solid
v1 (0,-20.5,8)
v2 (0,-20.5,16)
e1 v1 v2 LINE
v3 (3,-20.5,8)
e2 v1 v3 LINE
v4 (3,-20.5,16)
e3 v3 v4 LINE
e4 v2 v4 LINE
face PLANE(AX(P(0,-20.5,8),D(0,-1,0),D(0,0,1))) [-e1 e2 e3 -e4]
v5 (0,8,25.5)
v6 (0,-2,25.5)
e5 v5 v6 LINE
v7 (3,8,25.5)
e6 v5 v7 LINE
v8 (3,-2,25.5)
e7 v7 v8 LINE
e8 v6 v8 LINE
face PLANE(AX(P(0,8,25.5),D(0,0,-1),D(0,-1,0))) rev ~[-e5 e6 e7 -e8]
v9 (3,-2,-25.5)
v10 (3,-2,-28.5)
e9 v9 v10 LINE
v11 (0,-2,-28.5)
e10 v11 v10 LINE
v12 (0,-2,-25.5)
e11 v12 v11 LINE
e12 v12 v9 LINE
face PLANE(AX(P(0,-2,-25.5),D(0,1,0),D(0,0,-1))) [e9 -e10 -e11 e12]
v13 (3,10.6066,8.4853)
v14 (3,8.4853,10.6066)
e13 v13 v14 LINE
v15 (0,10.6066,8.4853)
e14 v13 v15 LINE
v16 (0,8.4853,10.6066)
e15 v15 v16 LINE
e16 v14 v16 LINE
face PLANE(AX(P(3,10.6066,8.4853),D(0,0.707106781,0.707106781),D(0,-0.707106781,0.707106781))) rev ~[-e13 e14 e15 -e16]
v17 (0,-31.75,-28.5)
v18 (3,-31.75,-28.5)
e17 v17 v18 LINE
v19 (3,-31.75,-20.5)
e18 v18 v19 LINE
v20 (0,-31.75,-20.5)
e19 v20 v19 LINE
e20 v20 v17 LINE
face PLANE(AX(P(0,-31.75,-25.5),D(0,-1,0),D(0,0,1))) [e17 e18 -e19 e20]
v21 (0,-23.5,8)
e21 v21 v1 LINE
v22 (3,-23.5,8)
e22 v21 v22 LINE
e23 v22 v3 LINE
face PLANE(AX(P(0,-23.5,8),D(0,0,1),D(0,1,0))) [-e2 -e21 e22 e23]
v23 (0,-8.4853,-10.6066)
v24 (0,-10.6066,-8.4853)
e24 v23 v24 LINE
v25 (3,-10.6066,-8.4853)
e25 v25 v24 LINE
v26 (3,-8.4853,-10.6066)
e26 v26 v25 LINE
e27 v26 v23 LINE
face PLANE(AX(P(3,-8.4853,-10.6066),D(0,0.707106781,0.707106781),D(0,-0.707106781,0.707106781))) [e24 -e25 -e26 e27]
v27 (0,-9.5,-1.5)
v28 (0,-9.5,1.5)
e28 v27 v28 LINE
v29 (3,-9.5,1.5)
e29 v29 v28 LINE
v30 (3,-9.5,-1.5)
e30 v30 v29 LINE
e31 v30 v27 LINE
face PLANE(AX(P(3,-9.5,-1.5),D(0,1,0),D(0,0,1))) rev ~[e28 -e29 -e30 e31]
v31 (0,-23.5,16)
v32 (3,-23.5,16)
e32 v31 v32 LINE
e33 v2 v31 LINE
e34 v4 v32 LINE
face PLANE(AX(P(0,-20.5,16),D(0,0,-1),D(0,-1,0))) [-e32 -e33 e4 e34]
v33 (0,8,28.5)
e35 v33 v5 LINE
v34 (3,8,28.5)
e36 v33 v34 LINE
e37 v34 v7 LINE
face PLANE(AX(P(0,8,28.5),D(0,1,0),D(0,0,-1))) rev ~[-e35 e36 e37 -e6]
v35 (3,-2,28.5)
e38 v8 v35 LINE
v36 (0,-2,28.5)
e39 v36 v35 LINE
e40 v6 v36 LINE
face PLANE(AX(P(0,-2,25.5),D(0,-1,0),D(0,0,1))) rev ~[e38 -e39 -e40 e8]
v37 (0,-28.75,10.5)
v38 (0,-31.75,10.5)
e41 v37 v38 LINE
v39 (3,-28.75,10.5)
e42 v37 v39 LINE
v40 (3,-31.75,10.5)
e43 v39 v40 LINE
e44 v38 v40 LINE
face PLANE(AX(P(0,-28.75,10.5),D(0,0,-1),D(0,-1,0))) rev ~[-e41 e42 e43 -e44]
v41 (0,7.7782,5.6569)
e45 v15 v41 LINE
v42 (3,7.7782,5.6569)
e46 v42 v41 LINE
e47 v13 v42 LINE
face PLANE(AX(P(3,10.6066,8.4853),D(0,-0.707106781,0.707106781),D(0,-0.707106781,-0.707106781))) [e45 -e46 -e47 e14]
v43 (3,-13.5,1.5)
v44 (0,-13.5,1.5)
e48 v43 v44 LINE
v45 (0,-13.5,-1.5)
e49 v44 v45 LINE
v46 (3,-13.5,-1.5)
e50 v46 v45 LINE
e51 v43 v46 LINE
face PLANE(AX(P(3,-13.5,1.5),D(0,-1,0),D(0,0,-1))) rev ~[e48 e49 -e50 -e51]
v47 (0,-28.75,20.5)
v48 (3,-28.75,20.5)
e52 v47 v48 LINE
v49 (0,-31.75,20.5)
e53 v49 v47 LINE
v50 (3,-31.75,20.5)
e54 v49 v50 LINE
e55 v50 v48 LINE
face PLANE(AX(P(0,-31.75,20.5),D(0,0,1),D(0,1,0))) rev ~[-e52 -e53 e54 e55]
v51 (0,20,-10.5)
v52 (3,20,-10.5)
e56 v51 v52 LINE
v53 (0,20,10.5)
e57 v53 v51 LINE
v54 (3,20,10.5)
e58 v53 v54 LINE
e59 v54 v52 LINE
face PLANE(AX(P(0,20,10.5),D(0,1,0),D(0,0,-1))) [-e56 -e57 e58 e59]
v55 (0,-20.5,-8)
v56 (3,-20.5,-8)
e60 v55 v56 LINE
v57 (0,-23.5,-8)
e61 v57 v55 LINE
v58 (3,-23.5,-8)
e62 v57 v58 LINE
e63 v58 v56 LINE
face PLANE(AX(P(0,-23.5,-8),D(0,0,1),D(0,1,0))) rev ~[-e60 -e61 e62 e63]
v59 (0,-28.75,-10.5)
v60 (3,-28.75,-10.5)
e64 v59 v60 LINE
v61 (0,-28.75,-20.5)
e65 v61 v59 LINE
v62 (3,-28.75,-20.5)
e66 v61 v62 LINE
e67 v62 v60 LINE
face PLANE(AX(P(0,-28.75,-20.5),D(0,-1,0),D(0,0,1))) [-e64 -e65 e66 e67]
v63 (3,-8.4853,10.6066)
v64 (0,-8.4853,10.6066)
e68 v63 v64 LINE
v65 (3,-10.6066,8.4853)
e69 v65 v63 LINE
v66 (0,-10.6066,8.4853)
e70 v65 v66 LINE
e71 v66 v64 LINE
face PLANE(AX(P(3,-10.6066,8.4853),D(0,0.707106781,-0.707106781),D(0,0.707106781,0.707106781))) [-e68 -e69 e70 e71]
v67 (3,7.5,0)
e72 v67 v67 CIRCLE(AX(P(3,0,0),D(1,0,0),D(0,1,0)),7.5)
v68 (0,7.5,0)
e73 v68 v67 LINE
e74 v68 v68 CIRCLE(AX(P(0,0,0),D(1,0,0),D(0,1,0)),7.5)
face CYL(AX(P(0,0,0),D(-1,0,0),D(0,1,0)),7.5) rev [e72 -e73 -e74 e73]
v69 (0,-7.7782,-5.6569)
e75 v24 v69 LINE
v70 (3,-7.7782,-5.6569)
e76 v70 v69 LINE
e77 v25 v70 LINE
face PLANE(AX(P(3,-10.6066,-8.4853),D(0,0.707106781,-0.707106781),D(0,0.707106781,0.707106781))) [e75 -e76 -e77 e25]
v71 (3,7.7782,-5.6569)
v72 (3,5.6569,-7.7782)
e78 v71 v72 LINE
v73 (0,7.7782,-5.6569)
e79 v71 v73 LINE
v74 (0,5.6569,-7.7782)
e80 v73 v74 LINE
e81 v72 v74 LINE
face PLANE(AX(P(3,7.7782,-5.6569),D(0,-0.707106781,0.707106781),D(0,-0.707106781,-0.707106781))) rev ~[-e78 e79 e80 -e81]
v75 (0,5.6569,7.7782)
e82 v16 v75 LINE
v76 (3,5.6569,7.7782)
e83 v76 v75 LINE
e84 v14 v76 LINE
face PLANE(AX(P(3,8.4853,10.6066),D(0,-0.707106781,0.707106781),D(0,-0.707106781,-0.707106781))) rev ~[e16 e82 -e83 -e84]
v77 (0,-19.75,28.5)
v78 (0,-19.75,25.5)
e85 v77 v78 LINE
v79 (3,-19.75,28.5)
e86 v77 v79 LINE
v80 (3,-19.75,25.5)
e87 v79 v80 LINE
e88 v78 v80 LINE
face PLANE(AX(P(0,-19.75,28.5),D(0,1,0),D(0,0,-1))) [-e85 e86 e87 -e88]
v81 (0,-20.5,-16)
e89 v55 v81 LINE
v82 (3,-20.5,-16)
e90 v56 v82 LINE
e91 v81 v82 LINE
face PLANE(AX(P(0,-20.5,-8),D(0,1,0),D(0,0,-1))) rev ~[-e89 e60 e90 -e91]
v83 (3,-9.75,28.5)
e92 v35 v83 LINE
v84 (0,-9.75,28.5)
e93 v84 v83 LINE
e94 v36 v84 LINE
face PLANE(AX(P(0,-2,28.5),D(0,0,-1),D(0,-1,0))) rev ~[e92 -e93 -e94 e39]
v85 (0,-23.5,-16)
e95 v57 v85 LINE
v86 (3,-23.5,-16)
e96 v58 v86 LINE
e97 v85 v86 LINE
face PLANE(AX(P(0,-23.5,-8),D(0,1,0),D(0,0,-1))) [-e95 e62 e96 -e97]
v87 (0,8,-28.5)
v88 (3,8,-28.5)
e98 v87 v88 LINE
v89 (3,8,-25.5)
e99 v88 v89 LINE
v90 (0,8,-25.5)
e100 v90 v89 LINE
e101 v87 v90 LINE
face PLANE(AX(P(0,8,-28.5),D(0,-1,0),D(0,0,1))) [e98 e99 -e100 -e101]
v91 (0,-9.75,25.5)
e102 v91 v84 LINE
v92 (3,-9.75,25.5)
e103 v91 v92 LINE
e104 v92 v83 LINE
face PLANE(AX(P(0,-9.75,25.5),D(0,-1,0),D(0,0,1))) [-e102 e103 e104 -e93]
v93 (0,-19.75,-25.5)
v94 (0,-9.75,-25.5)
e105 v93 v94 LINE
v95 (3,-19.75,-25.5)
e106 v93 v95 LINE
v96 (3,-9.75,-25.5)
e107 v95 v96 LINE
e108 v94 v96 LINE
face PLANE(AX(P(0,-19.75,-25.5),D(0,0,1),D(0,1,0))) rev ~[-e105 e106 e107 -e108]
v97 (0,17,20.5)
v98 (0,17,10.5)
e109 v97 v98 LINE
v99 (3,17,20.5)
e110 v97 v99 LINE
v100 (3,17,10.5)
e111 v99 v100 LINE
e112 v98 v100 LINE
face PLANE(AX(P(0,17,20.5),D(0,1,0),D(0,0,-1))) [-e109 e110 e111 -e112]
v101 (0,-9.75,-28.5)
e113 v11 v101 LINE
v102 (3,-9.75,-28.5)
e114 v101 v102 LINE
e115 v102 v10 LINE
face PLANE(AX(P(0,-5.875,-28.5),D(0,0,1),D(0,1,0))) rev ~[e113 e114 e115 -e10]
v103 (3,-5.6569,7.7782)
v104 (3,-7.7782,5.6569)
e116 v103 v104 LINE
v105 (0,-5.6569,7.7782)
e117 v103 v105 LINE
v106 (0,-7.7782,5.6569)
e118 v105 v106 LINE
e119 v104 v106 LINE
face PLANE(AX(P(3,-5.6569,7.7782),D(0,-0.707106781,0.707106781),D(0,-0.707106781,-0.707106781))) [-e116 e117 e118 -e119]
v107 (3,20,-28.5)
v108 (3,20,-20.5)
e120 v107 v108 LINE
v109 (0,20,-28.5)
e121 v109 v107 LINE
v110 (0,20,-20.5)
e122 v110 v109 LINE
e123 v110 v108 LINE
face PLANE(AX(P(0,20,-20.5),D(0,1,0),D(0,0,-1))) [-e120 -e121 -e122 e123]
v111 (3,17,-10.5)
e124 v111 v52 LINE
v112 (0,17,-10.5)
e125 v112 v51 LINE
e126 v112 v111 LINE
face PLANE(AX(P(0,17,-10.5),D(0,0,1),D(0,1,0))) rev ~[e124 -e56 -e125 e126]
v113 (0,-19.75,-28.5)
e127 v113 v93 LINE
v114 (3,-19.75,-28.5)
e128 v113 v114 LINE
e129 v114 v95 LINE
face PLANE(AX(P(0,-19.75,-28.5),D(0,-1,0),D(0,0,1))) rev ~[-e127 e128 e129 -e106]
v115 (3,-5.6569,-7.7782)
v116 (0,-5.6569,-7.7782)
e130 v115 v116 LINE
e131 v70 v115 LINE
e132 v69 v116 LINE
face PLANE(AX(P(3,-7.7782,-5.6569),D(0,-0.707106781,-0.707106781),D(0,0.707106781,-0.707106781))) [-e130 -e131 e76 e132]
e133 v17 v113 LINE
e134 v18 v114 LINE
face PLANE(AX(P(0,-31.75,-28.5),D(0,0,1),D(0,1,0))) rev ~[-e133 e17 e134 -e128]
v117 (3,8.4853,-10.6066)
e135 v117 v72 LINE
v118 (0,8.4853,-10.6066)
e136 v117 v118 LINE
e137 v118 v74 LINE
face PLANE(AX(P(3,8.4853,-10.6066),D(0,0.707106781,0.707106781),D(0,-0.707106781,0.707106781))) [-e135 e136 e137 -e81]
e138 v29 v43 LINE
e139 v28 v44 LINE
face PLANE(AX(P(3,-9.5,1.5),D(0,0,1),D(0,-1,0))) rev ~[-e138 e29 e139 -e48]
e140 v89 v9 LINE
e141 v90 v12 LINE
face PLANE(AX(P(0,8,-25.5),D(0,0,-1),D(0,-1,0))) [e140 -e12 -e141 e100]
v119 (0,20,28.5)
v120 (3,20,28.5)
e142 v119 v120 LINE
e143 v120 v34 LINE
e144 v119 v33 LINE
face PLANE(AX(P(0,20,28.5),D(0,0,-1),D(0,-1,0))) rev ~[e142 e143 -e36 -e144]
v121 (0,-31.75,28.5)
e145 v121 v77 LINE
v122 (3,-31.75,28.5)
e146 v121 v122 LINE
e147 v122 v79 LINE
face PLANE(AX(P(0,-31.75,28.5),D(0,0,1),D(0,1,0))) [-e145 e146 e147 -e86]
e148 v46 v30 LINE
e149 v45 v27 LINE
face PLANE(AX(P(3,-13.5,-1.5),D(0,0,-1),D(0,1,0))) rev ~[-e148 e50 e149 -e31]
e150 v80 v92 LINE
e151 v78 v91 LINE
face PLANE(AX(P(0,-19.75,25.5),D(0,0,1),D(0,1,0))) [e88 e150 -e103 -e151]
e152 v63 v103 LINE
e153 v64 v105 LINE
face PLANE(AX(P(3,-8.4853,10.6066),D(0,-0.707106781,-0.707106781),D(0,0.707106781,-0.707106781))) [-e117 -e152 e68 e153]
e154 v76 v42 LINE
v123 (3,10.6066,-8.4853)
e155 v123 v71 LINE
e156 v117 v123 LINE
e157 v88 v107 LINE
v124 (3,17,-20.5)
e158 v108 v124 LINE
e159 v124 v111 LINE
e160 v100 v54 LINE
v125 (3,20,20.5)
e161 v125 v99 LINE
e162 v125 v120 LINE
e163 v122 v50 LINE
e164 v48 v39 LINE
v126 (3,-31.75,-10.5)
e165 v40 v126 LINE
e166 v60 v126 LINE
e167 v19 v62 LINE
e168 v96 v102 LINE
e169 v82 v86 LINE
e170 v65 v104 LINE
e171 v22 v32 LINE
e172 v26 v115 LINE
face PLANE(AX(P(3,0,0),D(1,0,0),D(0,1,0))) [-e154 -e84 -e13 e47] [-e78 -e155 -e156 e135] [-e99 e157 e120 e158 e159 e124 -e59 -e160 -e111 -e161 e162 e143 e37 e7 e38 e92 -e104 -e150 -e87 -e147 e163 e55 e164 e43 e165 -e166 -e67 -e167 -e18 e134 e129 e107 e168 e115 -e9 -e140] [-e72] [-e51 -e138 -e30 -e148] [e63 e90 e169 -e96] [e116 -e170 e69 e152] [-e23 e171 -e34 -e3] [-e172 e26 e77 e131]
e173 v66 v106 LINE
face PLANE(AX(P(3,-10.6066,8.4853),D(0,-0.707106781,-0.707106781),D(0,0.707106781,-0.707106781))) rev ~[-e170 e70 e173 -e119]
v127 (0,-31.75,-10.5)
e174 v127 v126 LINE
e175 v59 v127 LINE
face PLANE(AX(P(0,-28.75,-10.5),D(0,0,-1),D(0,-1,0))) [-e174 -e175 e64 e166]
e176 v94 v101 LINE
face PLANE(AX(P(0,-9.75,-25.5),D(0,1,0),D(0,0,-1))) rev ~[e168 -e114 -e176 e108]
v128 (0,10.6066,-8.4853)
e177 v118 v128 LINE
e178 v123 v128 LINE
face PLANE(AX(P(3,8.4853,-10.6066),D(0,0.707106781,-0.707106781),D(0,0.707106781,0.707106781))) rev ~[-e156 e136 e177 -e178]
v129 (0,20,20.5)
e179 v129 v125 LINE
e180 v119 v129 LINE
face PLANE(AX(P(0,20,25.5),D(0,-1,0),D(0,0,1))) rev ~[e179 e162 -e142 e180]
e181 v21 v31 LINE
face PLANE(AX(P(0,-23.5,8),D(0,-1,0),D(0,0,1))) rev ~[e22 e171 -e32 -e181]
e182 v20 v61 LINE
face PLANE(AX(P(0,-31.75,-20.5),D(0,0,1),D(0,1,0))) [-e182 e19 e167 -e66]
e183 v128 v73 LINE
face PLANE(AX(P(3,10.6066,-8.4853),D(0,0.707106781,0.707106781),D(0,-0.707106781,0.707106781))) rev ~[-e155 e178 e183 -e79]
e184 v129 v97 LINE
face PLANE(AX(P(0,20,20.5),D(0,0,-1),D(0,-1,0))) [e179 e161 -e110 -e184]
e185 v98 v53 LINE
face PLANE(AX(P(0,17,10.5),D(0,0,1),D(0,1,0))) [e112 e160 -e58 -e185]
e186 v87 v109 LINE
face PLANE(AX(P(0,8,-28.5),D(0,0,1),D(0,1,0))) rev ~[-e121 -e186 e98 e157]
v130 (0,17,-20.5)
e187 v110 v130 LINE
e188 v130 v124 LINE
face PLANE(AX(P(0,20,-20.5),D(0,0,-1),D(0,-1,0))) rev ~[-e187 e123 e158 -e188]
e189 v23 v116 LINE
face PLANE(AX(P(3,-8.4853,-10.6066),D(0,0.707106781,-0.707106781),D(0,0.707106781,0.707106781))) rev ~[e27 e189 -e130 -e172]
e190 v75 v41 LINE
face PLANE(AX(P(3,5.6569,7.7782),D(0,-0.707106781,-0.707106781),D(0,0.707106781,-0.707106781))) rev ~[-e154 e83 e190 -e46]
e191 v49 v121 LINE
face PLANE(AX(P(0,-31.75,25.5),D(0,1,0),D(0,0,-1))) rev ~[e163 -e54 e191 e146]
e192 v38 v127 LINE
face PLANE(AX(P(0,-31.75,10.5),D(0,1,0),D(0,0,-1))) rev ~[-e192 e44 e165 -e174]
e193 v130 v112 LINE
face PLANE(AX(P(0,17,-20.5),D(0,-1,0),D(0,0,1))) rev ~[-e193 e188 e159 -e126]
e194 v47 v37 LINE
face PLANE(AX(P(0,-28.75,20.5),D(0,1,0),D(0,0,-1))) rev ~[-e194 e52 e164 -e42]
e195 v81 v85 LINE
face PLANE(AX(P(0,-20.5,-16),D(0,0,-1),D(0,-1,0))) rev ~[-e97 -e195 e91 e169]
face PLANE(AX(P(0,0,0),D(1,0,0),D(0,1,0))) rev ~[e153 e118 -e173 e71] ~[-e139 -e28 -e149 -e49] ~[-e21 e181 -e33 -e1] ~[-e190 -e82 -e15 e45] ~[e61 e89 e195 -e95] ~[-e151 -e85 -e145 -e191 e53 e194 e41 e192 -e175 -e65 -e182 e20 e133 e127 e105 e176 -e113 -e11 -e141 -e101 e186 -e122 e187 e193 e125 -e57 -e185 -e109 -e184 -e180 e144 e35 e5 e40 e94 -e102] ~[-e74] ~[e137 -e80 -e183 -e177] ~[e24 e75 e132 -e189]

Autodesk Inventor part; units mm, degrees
ref_plane "YZ Plane" through (0, 0, 0) normal (1, 0, 0) x (0, 1, 0)
ref_plane "XZ Plane" through (0, 0, 0) normal (0, 1, 0) x (-1, 0, 0)
ref_plane "XY Plane" through (0, 0, 0) normal (0, 0, 1) x (1, 0, 0)
sketch "Sketch1" plane through (0, 0, 0) normal (1, 0, 0) x (0, 1, 0)
  circle A0 centre (0, 0) radius 7.5
  line L0 (-31.75, -25.5) -> (-31.75, -20.5)
  line L1 (-31.75, -20.5) -> (-28.75, -20.5)
  line L2 (-28.75, -20.5) -> (-28.75, -10.5)
  line L3 (-28.75, -10.5) -> (-31.75, -10.5)
  line L4 (0, 0) -> (-31.75, 0) construction
  line L5 (-31.75, 20.5) -> (-28.75, 20.5)
  line L6 (-28.75, 20.5) -> (-28.75, 10.5)
  line L7 (-28.75, 10.5) -> (-31.75, 10.5)
  line L8 (-31.75, 25.5) -> (-31.75, 20.5)
  line L9 (-31.75, 10.5) -> (-31.75, -10.5)
  line L10 (-31.75, -20.5) -> (-31.75, -25.5)
  line L11 (20, 25.5) -> (20, 20.5)
  line L12 (20, 20.5) -> (17, 20.5)
  line L13 (17, 20.5) -> (17, 10.5)
  line L14 (17, 10.5) -> (20, 10.5)
  line L15 (20, -20.5) -> (17, -20.5)
  line L16 (17, -20.5) -> (17, -10.5)
  line L17 (17, -10.5) -> (20, -10.5)
  line L18 (20, 25.5) -> (20, 20.5)
  line L19 (20, 10.5) -> (20, -10.5)
  line L20 (20, -20.5) -> (20, -25.5)
  line L21 (20, 25.5) -> (20, 28.5)
  line L22 (-31.75, 28.5) -> (-31.75, 25.5)
  line L23 (-31.75, -25.5) -> (-31.75, -28.5)
  line L24 (20, -28.5) -> (20, -25.5)
  line L25 (-31.75, 28.5) -> (-19.75, 28.5)
  line L26 (-19.75, 28.5) -> (-19.75, 25.5)
  line L27 (-19.75, 25.5) -> (-9.75, 25.5)
  line L28 (-9.75, 25.5) -> (-9.75, 28.5)
  line L29 (-5.875, -28.5) -> (-5.875, 0) construction
  line L30 (8, 28.5) -> (8, 25.5)
  line L31 (8, 25.5) -> (-2, 25.5)
  line L32 (-2, 25.5) -> (-2, 28.5)
  line L33 (-19.75, -28.5) -> (-19.75, -25.5)
  line L34 (-19.75, -25.5) -> (-9.75, -25.5)
  line L35 (-9.75, -25.5) -> (-9.75, -28.5)
  line L36 (8, -25.5) -> (-2, -25.5)
  line L37 (8, -28.5) -> (8, -25.5)
  line L38 (-2, -25.5) -> (-2, -28.5)
  line L39 (-19.75, 28.5) -> (-31.75, 28.5)
  line L40 (20, 28.5) -> (8, 28.5)
  line L41 (-2, 28.5) -> (-9.75, 28.5)
  line L42 (-31.75, -28.5) -> (-19.75, -28.5)
  line L43 (-9.75, -28.5) -> (-2, -28.5)
  line L44 (8, -28.5) -> (20, -28.5)
  line L45 (-31.75, -28.5) -> (-19.75, -28.5)
  line L46 (-9.75, -28.5) -> (-5.875, -28.5)
  line L47 (-28.75, 20.5) -> (-23.5, 20.5) construction
  line L48 (-23.5, 20.5) -> (-23.5, -28.5) construction
  line L49 (-23.5, 0) -> (-23.5, -8) construction
  line L50 (-23.5, -8) -> (-20.5, -8)
  line L51 (-20.5, -8) -> (-20.5, -16)
  line L52 (-20.5, -16) -> (-23.5, -16)
  line L53 (-23.5, -8) -> (-23.5, -16)
  line L54 (-23.5, -20.5) -> (-23.5, 28.5) construction
  line L55 (-23.5, 0) -> (-23.5, 8) construction
  line L56 (-23.5, 8) -> (-20.5, 8)
  line L57 (-20.5, 8) -> (-20.5, 16)
  line L58 (-20.5, 16) -> (-23.5, 16)
  line L59 (-23.5, 8) -> (-23.5, 16)
  line L60 (0, -7.5) -> (0, -9.5) construction
  line L61 (0, -9.5) -> (1.5, -9.5)
  line L62 (1.5, -9.5) -> (1.5, -13.5)
  line L63 (1.5, -13.5) -> (-1.5, -13.5)
  line L64 (-1.5, -13.5) -> (-1.5, -9.5)
  line L65 (-1.5, -9.5) -> (0, -9.5)
  line L66 (0, 9.5) -> (1.5, 9.5)
  line L67 (1.5, 9.5) -> (1.5, 13.5)
  line L68 (1.5, 13.5) -> (-1.5, 13.5)
  line L69 (-1.5, 13.5) -> (-1.5, 9.5)
  line L70 (-1.5, 9.5) -> (0, 9.5)
  line L71 (7.5, 0) -> (9.5, 0) construction
  line L72 (9.5, 0) -> (9.5, -1.5)
  line L73 (9.5, -1.5) -> (13.5, -1.5)
  line L74 (13.5, -1.5) -> (13.5, 1.5)
  line L75 (13.5, 1.5) -> (9.5, 1.5)
  line L76 (9.5, 1.5) -> (9.5, 0)
  line L77 (-7.5, 0) -> (-9.5, 0) construction
  line L78 (-9.5, 0) -> (-9.5, -1.5)
  line L79 (-9.5, -1.5) -> (-13.5, -1.5)
  line L80 (-13.5, -1.5) -> (-13.5, 1.5)
  line L81 (-13.5, 1.5) -> (-9.5, 1.5)
  line L82 (-9.5, 1.5) -> (-9.5, 0)
  dimension "d0" = 15
  dimension "d3" = 51
  dimension "d7" = 5
  dimension "d8" = 3
  dimension "d9" = 10
  dimension "d10" = 3
  dimension "d11" = 51.75
  dimension "d12" = 3
  dimension "d13" = 3
  dimension "d14" = 12
  dimension "d15" = 3
  dimension "d16" = 10
  dimension "d17" = 25.875
  dimension "d18" = 5.25
  dimension "d19" = 8
  dimension "d20" = 3
  dimension "d21" = 8
  dimension "d22" = 2
  dimension "d23" = 1.5
  dimension "d24" = 4
  dimension "d25" = 3
  dimension "d26" = 2
  dimension "d27" = 1.5
  dimension "d28" = 4
  dimension "d29" = 3
extrude "Extrusion1" add sketch "Sketch1" along normal blind 3
sketch "Sketch4" plane through (3, 0, 0) normal (1, 0, 0) x (0, 0, -1)
  line L0 (1.5, 9.5) -> (-1.5, 9.5) projected
  line L1 (-1.5, 9.5) -> (1.5, 9.5)
  line L2 (1.5, 13.5) -> (1.5, 9.5) projected
  line L3 (1.5, 9.5) -> (1.5, 13.5)
  line L4 (-1.5, 13.5) -> (1.5, 13.5) projected
  line L5 (1.5, 13.5) -> (-1.5, 13.5)
  line L6 (-1.5, 9.5) -> (-1.5, 13.5) projected
  line L7 (-1.5, 13.5) -> (-1.5, 9.5)
  line L8 (-1.5, -9.5) -> (1.5, -9.5) projected
  line L9 (-1.5, -9.5) -> (1.5, -9.5)
  line L10 (1.5, -9.5) -> (1.5, -13.5) projected
  line L11 (1.5, -9.5) -> (1.5, -13.5)
  line L12 (1.5, -13.5) -> (-1.5, -13.5) projected
  line L13 (1.5, -13.5) -> (-1.5, -13.5)
  line L14 (-1.5, -13.5) -> (-1.5, -9.5) projected
  line L15 (-1.5, -13.5) -> (-1.5, -9.5)
  point P0 (0, 0)
extrude "Extrusion3" add sketch "Sketch4" against normal up to surface (3 mm away)
sketch "Sketch5" plane through (3, 0, 0) normal (1, 0, 0) x (0, 0, -1)
  line L0 (-9.5, -1.5) -> (-13.5, -1.5) projected
  line L1 (-13.5, -1.5) -> (-13.5, 1.5) projected
  line L2 (-13.5, 1.5) -> (-9.5, 1.5) projected
  line L3 (-9.5, 1.5) -> (-9.5, -1.5) projected
  line L4 (-9.5, -1.5) -> (-13.5, -1.5) projected
  line L5 (-13.5, -1.5) -> (-13.5, 1.5) projected
  line L6 (-13.5, -1.5) -> (-13.5, 1.5)
  line L7 (-13.5, 1.5) -> (-9.5, 1.5) projected
  line L8 (-13.5, 1.5) -> (-9.5, 1.5)
  line L9 (-9.5, 1.5) -> (-9.5, -1.5)
  line L10 (-13.5, -1.5) -> (-9.5, -1.5)
  line L11 (0, 0) -> (0, 8.8912) construction
  line L12 (-8.4853, -10.6066) -> (-10.6066, -8.4853)
  line L13 (-10.6066, -8.4853) -> (-7.7782, -5.6569)
  line L14 (-7.7782, -5.6569) -> (-5.6569, -7.7782)
  line L15 (-8.4853, -10.6066) -> (-5.6569, -7.7782)
  line L16 (8.4853, -10.6066) -> (5.6569, -7.7782)
  line L17 (10.6066, -8.4853) -> (8.4853, -10.6066)
  line L18 (10.6066, -8.4853) -> (7.7782, -5.6569)
  line L19 (5.6569, -7.7782) -> (7.7782, -5.6569)
  line L20 (0, 0) -> (-7.7782, 0) construction
  line L21 (-10.6066, 8.4853) -> (-7.7782, 5.6569)
  line L22 (-8.4853, 10.6066) -> (-10.6066, 8.4853)
  line L23 (-8.4853, 10.6066) -> (-5.6569, 7.7782)
  line L24 (-7.7782, 5.6569) -> (-5.6569, 7.7782)
  line L25 (10.6066, 8.4853) -> (7.7782, 5.6569)
  line L26 (5.6569, 7.7782) -> (7.7782, 5.6569)
  line L27 (8.4853, 10.6066) -> (5.6569, 7.7782)
  line L28 (10.6066, 8.4853) -> (8.4853, 10.6066)
extrude "Extrusion4" cut sketch "Sketch5" against normal up to surface (3 mm away) contours L12 L13 L14 L15 | L16 L19 L18 L17 | L22 L23 L24 L21 | L25 L26 L27 L28
ref_plane "Work Plane1" through (-17.5, 0, 0) normal (1, 0, 0) x (0, 0, -1)
sketch "Sketch6" plane through (-17.5, 0, 0) normal (1, 0, 0) x (0, 0, -1)
  line L0 (8.4853, -10.6066) -> (5.6569, -7.7782) projected
  line L1 (5.6569, -7.7782) -> (7.7782, -5.6569) projected
  line L2 (7.7782, -5.6569) -> (10.6066, -8.4853) projected
  line L3 (10.6066, -8.4853) -> (8.4853, -10.6066) projected
  line L4 (-5.6569, 7.7782) -> (-7.7782, 5.6569) projected
  line L5 (-7.7782, 5.6569) -> (-10.6066, 8.4853) projected
  line L6 (-10.6066, 8.4853) -> (-8.4853, 10.6066) projected
  line L7 (-8.4853, 10.6066) -> (-5.6569, 7.7782) projected
  line L8 (10.6066, 8.4853) -> (7.7782, 5.6569) projected
  line L9 (7.7782, 5.6569) -> (5.6569, 7.7782) projected
  line L10 (5.6569, 7.7782) -> (8.4853, 10.6066) projected
  line L11 (8.4853, 10.6066) -> (10.6066, 8.4853) projected
  line L12 (-7.7782, -5.6569) -> (-5.6569, -7.7782) projected
  line L13 (-5.6569, -7.7782) -> (-8.4853, -10.6066) projected
  line L14 (-8.4853, -10.6066) -> (-10.6066, -8.4853) projected
  line L15 (-10.6066, -8.4853) -> (-7.7782, -5.6569) projected
  line L16 (-25.5, -2) -> (-28.5, -2) projected
  line L17 (-28.5, -2) -> (-28.5, -9.75) projected
  line L18 (-28.5, -9.75) -> (-25.5, -9.75) projected
  line L19 (-25.5, -9.75) -> (-25.5, -19.75) projected
  line L20 (-25.5, -19.75) -> (-28.5, -19.75) projected
  line L21 (-28.5, -19.75) -> (-28.5, -31.75) projected
  line L22 (-28.5, -31.75) -> (-20.5, -31.75) projected
  line L23 (-20.5, -31.75) -> (-20.5, -28.75) projected
  line L24 (-20.5, -28.75) -> (-10.5, -28.75) projected
  line L25 (-10.5, -28.75) -> (-10.5, -31.75) projected
  line L26 (-10.5, -31.75) -> (10.5, -31.75) projected
  line L27 (10.5, -31.75) -> (10.5, -28.75) projected
  line L28 (10.5, -28.75) -> (20.5, -28.75) projected
  line L29 (20.5, -28.75) -> (20.5, -31.75) projected
  line L30 (20.5, -31.75) -> (28.5, -31.75) projected
  line L31 (28.5, -31.75) -> (28.5, -19.75) projected
  line L32 (28.5, -19.75) -> (25.5, -19.75) projected
  line L33 (25.5, -19.75) -> (25.5, -9.75) projected
  line L34 (25.5, -9.75) -> (28.5, -9.75) projected
  line L35 (28.5, -9.75) -> (28.5, -2) projected
  line L36 (28.5, -2) -> (25.5, -2) projected
  line L37 (25.5, -2) -> (25.5, 8) projected
  line L38 (25.5, 8) -> (28.5, 8) projected
  line L39 (28.5, 8) -> (28.5, 20) projected
  line L40 (28.5, 20) -> (20.5, 20) projected
  line L41 (20.5, 20) -> (20.5, 17) projected
  line L42 (20.5, 17) -> (10.5, 17) projected
  line L43 (10.5, 17) -> (10.5, 20) projected
  line L44 (10.5, 20) -> (-10.5, 20) projected
  line L45 (-10.5, 20) -> (-10.5, 17) projected
  line L46 (-10.5, 17) -> (-20.5, 17) projected
  line L47 (-20.5, 17) -> (-20.5, 20) projected
  line L48 (-20.5, 20) -> (-28.5, 20) projected
  line L49 (-28.5, 20) -> (-28.5, 8) projected
  line L50 (-28.5, 8) -> (-25.5, 8) projected
  line L51 (-25.5, 8) -> (-25.5, -2) projected
  circle A0 centre (0, 0) radius 7.5 projected
  line L52 (16, -20.5) -> (16, -23.5) projected
  line L53 (16, -23.5) -> (8, -23.5) projected
  line L54 (8, -23.5) -> (8, -20.5) projected
  line L55 (8, -20.5) -> (16, -20.5) projected
  line L56 (-8, -23.5) -> (-16, -23.5) projected
  line L57 (-16, -23.5) -> (-16, -20.5) projected
  line L58 (-16, -20.5) -> (-8, -20.5) projected
  line L59 (-8, -20.5) -> (-8, -23.5) projected
  line L60 (13.5, 1.5) -> (13.5, -1.5) projected
  line L61 (13.5, -1.5) -> (9.5, -1.5) projected
  line L62 (9.5, -1.5) -> (9.5, 1.5) projected
  line L63 (9.5, 1.5) -> (13.5, 1.5) projected
  line L64 (-9.5, 1.5) -> (-9.5, -1.5) projected
  line L65 (-9.5, -1.5) -> (-13.5, -1.5) projected
  line L66 (-13.5, -1.5) -> (-13.5, 1.5) projected
  line L67 (-13.5, 1.5) -> (-9.5, 1.5) projected
  circle A1 centre (0, 0) radius 14.5
  dimension "d40" = 29
sketch "Sketch7" plane through (3, 0, 0) normal (1, 0, 0) x (0, 0, -1)
  line L0 (-13.5, -1.5) -> (-13.5, 1.5) projected
  line L1 (-9.5, 1.5) -> (-9.5, -1.5) projected
  line L2 (-13.5, -1.5) -> (-9.5, -1.5)
  line L3 (-9.5, -1.5) -> (-9.5, 1.5)
  line L4 (-9.5, 1.5) -> (-13.5, 1.5)
  line L5 (-13.5, 1.5) -> (-13.5, -1.5)
  line L6 (13.5, -1.5) -> (9.5, -1.5) projected
  line L7 (13.5, 1.5) -> (13.5, -1.5) projected
  line L8 (9.5, -1.5) -> (13.5, -1.5)
  line L9 (13.5, -1.5) -> (13.5, 1.5)
  line L10 (13.5, 1.5) -> (9.5, 1.5)
  line L11 (9.5, 1.5) -> (9.5, -1.5)
  point P0 (0, 0)
extrude "Extrusion5" add sketch "Sketch7" against normal up to surface (3 mm away)
sketch "Sketch8" plane through (3, 0, 0) normal (1, 0, 0) x (0, 0, -1)
  line L0 (-8.4853, -10.6066) -> (-5.6569, -7.7782) projected
  line L1 (-8.4853, -10.6066) -> (-5.6569, -7.7782)
  line L2 (-5.6569, -7.7782) -> (-7.7782, -5.6569) projected
  line L3 (-5.6569, -7.7782) -> (-7.7782, -5.6569)
  line L4 (-7.7782, -5.6569) -> (-10.6066, -8.4853)
  line L5 (-10.6066, -8.4853) -> (-8.4853, -10.6066) projected
  line L6 (-10.6066, -8.4853) -> (-8.4853, -10.6066)
  line L7 (1.5, -13.5) -> (1.5, -9.5)
  line L8 (1.5, -9.5) -> (-1.5, -9.5)
  line L9 (-1.5, -9.5) -> (-1.5, -13.5)
  line L10 (-1.5, -13.5) -> (1.5, -13.5)
  point P0 (0, 0)
extrude "Extrusion6" cut sketch "Sketch8" against normal up to surface (3 mm away) contours L10 L9 L8 L7
properties part number "Frontal"
